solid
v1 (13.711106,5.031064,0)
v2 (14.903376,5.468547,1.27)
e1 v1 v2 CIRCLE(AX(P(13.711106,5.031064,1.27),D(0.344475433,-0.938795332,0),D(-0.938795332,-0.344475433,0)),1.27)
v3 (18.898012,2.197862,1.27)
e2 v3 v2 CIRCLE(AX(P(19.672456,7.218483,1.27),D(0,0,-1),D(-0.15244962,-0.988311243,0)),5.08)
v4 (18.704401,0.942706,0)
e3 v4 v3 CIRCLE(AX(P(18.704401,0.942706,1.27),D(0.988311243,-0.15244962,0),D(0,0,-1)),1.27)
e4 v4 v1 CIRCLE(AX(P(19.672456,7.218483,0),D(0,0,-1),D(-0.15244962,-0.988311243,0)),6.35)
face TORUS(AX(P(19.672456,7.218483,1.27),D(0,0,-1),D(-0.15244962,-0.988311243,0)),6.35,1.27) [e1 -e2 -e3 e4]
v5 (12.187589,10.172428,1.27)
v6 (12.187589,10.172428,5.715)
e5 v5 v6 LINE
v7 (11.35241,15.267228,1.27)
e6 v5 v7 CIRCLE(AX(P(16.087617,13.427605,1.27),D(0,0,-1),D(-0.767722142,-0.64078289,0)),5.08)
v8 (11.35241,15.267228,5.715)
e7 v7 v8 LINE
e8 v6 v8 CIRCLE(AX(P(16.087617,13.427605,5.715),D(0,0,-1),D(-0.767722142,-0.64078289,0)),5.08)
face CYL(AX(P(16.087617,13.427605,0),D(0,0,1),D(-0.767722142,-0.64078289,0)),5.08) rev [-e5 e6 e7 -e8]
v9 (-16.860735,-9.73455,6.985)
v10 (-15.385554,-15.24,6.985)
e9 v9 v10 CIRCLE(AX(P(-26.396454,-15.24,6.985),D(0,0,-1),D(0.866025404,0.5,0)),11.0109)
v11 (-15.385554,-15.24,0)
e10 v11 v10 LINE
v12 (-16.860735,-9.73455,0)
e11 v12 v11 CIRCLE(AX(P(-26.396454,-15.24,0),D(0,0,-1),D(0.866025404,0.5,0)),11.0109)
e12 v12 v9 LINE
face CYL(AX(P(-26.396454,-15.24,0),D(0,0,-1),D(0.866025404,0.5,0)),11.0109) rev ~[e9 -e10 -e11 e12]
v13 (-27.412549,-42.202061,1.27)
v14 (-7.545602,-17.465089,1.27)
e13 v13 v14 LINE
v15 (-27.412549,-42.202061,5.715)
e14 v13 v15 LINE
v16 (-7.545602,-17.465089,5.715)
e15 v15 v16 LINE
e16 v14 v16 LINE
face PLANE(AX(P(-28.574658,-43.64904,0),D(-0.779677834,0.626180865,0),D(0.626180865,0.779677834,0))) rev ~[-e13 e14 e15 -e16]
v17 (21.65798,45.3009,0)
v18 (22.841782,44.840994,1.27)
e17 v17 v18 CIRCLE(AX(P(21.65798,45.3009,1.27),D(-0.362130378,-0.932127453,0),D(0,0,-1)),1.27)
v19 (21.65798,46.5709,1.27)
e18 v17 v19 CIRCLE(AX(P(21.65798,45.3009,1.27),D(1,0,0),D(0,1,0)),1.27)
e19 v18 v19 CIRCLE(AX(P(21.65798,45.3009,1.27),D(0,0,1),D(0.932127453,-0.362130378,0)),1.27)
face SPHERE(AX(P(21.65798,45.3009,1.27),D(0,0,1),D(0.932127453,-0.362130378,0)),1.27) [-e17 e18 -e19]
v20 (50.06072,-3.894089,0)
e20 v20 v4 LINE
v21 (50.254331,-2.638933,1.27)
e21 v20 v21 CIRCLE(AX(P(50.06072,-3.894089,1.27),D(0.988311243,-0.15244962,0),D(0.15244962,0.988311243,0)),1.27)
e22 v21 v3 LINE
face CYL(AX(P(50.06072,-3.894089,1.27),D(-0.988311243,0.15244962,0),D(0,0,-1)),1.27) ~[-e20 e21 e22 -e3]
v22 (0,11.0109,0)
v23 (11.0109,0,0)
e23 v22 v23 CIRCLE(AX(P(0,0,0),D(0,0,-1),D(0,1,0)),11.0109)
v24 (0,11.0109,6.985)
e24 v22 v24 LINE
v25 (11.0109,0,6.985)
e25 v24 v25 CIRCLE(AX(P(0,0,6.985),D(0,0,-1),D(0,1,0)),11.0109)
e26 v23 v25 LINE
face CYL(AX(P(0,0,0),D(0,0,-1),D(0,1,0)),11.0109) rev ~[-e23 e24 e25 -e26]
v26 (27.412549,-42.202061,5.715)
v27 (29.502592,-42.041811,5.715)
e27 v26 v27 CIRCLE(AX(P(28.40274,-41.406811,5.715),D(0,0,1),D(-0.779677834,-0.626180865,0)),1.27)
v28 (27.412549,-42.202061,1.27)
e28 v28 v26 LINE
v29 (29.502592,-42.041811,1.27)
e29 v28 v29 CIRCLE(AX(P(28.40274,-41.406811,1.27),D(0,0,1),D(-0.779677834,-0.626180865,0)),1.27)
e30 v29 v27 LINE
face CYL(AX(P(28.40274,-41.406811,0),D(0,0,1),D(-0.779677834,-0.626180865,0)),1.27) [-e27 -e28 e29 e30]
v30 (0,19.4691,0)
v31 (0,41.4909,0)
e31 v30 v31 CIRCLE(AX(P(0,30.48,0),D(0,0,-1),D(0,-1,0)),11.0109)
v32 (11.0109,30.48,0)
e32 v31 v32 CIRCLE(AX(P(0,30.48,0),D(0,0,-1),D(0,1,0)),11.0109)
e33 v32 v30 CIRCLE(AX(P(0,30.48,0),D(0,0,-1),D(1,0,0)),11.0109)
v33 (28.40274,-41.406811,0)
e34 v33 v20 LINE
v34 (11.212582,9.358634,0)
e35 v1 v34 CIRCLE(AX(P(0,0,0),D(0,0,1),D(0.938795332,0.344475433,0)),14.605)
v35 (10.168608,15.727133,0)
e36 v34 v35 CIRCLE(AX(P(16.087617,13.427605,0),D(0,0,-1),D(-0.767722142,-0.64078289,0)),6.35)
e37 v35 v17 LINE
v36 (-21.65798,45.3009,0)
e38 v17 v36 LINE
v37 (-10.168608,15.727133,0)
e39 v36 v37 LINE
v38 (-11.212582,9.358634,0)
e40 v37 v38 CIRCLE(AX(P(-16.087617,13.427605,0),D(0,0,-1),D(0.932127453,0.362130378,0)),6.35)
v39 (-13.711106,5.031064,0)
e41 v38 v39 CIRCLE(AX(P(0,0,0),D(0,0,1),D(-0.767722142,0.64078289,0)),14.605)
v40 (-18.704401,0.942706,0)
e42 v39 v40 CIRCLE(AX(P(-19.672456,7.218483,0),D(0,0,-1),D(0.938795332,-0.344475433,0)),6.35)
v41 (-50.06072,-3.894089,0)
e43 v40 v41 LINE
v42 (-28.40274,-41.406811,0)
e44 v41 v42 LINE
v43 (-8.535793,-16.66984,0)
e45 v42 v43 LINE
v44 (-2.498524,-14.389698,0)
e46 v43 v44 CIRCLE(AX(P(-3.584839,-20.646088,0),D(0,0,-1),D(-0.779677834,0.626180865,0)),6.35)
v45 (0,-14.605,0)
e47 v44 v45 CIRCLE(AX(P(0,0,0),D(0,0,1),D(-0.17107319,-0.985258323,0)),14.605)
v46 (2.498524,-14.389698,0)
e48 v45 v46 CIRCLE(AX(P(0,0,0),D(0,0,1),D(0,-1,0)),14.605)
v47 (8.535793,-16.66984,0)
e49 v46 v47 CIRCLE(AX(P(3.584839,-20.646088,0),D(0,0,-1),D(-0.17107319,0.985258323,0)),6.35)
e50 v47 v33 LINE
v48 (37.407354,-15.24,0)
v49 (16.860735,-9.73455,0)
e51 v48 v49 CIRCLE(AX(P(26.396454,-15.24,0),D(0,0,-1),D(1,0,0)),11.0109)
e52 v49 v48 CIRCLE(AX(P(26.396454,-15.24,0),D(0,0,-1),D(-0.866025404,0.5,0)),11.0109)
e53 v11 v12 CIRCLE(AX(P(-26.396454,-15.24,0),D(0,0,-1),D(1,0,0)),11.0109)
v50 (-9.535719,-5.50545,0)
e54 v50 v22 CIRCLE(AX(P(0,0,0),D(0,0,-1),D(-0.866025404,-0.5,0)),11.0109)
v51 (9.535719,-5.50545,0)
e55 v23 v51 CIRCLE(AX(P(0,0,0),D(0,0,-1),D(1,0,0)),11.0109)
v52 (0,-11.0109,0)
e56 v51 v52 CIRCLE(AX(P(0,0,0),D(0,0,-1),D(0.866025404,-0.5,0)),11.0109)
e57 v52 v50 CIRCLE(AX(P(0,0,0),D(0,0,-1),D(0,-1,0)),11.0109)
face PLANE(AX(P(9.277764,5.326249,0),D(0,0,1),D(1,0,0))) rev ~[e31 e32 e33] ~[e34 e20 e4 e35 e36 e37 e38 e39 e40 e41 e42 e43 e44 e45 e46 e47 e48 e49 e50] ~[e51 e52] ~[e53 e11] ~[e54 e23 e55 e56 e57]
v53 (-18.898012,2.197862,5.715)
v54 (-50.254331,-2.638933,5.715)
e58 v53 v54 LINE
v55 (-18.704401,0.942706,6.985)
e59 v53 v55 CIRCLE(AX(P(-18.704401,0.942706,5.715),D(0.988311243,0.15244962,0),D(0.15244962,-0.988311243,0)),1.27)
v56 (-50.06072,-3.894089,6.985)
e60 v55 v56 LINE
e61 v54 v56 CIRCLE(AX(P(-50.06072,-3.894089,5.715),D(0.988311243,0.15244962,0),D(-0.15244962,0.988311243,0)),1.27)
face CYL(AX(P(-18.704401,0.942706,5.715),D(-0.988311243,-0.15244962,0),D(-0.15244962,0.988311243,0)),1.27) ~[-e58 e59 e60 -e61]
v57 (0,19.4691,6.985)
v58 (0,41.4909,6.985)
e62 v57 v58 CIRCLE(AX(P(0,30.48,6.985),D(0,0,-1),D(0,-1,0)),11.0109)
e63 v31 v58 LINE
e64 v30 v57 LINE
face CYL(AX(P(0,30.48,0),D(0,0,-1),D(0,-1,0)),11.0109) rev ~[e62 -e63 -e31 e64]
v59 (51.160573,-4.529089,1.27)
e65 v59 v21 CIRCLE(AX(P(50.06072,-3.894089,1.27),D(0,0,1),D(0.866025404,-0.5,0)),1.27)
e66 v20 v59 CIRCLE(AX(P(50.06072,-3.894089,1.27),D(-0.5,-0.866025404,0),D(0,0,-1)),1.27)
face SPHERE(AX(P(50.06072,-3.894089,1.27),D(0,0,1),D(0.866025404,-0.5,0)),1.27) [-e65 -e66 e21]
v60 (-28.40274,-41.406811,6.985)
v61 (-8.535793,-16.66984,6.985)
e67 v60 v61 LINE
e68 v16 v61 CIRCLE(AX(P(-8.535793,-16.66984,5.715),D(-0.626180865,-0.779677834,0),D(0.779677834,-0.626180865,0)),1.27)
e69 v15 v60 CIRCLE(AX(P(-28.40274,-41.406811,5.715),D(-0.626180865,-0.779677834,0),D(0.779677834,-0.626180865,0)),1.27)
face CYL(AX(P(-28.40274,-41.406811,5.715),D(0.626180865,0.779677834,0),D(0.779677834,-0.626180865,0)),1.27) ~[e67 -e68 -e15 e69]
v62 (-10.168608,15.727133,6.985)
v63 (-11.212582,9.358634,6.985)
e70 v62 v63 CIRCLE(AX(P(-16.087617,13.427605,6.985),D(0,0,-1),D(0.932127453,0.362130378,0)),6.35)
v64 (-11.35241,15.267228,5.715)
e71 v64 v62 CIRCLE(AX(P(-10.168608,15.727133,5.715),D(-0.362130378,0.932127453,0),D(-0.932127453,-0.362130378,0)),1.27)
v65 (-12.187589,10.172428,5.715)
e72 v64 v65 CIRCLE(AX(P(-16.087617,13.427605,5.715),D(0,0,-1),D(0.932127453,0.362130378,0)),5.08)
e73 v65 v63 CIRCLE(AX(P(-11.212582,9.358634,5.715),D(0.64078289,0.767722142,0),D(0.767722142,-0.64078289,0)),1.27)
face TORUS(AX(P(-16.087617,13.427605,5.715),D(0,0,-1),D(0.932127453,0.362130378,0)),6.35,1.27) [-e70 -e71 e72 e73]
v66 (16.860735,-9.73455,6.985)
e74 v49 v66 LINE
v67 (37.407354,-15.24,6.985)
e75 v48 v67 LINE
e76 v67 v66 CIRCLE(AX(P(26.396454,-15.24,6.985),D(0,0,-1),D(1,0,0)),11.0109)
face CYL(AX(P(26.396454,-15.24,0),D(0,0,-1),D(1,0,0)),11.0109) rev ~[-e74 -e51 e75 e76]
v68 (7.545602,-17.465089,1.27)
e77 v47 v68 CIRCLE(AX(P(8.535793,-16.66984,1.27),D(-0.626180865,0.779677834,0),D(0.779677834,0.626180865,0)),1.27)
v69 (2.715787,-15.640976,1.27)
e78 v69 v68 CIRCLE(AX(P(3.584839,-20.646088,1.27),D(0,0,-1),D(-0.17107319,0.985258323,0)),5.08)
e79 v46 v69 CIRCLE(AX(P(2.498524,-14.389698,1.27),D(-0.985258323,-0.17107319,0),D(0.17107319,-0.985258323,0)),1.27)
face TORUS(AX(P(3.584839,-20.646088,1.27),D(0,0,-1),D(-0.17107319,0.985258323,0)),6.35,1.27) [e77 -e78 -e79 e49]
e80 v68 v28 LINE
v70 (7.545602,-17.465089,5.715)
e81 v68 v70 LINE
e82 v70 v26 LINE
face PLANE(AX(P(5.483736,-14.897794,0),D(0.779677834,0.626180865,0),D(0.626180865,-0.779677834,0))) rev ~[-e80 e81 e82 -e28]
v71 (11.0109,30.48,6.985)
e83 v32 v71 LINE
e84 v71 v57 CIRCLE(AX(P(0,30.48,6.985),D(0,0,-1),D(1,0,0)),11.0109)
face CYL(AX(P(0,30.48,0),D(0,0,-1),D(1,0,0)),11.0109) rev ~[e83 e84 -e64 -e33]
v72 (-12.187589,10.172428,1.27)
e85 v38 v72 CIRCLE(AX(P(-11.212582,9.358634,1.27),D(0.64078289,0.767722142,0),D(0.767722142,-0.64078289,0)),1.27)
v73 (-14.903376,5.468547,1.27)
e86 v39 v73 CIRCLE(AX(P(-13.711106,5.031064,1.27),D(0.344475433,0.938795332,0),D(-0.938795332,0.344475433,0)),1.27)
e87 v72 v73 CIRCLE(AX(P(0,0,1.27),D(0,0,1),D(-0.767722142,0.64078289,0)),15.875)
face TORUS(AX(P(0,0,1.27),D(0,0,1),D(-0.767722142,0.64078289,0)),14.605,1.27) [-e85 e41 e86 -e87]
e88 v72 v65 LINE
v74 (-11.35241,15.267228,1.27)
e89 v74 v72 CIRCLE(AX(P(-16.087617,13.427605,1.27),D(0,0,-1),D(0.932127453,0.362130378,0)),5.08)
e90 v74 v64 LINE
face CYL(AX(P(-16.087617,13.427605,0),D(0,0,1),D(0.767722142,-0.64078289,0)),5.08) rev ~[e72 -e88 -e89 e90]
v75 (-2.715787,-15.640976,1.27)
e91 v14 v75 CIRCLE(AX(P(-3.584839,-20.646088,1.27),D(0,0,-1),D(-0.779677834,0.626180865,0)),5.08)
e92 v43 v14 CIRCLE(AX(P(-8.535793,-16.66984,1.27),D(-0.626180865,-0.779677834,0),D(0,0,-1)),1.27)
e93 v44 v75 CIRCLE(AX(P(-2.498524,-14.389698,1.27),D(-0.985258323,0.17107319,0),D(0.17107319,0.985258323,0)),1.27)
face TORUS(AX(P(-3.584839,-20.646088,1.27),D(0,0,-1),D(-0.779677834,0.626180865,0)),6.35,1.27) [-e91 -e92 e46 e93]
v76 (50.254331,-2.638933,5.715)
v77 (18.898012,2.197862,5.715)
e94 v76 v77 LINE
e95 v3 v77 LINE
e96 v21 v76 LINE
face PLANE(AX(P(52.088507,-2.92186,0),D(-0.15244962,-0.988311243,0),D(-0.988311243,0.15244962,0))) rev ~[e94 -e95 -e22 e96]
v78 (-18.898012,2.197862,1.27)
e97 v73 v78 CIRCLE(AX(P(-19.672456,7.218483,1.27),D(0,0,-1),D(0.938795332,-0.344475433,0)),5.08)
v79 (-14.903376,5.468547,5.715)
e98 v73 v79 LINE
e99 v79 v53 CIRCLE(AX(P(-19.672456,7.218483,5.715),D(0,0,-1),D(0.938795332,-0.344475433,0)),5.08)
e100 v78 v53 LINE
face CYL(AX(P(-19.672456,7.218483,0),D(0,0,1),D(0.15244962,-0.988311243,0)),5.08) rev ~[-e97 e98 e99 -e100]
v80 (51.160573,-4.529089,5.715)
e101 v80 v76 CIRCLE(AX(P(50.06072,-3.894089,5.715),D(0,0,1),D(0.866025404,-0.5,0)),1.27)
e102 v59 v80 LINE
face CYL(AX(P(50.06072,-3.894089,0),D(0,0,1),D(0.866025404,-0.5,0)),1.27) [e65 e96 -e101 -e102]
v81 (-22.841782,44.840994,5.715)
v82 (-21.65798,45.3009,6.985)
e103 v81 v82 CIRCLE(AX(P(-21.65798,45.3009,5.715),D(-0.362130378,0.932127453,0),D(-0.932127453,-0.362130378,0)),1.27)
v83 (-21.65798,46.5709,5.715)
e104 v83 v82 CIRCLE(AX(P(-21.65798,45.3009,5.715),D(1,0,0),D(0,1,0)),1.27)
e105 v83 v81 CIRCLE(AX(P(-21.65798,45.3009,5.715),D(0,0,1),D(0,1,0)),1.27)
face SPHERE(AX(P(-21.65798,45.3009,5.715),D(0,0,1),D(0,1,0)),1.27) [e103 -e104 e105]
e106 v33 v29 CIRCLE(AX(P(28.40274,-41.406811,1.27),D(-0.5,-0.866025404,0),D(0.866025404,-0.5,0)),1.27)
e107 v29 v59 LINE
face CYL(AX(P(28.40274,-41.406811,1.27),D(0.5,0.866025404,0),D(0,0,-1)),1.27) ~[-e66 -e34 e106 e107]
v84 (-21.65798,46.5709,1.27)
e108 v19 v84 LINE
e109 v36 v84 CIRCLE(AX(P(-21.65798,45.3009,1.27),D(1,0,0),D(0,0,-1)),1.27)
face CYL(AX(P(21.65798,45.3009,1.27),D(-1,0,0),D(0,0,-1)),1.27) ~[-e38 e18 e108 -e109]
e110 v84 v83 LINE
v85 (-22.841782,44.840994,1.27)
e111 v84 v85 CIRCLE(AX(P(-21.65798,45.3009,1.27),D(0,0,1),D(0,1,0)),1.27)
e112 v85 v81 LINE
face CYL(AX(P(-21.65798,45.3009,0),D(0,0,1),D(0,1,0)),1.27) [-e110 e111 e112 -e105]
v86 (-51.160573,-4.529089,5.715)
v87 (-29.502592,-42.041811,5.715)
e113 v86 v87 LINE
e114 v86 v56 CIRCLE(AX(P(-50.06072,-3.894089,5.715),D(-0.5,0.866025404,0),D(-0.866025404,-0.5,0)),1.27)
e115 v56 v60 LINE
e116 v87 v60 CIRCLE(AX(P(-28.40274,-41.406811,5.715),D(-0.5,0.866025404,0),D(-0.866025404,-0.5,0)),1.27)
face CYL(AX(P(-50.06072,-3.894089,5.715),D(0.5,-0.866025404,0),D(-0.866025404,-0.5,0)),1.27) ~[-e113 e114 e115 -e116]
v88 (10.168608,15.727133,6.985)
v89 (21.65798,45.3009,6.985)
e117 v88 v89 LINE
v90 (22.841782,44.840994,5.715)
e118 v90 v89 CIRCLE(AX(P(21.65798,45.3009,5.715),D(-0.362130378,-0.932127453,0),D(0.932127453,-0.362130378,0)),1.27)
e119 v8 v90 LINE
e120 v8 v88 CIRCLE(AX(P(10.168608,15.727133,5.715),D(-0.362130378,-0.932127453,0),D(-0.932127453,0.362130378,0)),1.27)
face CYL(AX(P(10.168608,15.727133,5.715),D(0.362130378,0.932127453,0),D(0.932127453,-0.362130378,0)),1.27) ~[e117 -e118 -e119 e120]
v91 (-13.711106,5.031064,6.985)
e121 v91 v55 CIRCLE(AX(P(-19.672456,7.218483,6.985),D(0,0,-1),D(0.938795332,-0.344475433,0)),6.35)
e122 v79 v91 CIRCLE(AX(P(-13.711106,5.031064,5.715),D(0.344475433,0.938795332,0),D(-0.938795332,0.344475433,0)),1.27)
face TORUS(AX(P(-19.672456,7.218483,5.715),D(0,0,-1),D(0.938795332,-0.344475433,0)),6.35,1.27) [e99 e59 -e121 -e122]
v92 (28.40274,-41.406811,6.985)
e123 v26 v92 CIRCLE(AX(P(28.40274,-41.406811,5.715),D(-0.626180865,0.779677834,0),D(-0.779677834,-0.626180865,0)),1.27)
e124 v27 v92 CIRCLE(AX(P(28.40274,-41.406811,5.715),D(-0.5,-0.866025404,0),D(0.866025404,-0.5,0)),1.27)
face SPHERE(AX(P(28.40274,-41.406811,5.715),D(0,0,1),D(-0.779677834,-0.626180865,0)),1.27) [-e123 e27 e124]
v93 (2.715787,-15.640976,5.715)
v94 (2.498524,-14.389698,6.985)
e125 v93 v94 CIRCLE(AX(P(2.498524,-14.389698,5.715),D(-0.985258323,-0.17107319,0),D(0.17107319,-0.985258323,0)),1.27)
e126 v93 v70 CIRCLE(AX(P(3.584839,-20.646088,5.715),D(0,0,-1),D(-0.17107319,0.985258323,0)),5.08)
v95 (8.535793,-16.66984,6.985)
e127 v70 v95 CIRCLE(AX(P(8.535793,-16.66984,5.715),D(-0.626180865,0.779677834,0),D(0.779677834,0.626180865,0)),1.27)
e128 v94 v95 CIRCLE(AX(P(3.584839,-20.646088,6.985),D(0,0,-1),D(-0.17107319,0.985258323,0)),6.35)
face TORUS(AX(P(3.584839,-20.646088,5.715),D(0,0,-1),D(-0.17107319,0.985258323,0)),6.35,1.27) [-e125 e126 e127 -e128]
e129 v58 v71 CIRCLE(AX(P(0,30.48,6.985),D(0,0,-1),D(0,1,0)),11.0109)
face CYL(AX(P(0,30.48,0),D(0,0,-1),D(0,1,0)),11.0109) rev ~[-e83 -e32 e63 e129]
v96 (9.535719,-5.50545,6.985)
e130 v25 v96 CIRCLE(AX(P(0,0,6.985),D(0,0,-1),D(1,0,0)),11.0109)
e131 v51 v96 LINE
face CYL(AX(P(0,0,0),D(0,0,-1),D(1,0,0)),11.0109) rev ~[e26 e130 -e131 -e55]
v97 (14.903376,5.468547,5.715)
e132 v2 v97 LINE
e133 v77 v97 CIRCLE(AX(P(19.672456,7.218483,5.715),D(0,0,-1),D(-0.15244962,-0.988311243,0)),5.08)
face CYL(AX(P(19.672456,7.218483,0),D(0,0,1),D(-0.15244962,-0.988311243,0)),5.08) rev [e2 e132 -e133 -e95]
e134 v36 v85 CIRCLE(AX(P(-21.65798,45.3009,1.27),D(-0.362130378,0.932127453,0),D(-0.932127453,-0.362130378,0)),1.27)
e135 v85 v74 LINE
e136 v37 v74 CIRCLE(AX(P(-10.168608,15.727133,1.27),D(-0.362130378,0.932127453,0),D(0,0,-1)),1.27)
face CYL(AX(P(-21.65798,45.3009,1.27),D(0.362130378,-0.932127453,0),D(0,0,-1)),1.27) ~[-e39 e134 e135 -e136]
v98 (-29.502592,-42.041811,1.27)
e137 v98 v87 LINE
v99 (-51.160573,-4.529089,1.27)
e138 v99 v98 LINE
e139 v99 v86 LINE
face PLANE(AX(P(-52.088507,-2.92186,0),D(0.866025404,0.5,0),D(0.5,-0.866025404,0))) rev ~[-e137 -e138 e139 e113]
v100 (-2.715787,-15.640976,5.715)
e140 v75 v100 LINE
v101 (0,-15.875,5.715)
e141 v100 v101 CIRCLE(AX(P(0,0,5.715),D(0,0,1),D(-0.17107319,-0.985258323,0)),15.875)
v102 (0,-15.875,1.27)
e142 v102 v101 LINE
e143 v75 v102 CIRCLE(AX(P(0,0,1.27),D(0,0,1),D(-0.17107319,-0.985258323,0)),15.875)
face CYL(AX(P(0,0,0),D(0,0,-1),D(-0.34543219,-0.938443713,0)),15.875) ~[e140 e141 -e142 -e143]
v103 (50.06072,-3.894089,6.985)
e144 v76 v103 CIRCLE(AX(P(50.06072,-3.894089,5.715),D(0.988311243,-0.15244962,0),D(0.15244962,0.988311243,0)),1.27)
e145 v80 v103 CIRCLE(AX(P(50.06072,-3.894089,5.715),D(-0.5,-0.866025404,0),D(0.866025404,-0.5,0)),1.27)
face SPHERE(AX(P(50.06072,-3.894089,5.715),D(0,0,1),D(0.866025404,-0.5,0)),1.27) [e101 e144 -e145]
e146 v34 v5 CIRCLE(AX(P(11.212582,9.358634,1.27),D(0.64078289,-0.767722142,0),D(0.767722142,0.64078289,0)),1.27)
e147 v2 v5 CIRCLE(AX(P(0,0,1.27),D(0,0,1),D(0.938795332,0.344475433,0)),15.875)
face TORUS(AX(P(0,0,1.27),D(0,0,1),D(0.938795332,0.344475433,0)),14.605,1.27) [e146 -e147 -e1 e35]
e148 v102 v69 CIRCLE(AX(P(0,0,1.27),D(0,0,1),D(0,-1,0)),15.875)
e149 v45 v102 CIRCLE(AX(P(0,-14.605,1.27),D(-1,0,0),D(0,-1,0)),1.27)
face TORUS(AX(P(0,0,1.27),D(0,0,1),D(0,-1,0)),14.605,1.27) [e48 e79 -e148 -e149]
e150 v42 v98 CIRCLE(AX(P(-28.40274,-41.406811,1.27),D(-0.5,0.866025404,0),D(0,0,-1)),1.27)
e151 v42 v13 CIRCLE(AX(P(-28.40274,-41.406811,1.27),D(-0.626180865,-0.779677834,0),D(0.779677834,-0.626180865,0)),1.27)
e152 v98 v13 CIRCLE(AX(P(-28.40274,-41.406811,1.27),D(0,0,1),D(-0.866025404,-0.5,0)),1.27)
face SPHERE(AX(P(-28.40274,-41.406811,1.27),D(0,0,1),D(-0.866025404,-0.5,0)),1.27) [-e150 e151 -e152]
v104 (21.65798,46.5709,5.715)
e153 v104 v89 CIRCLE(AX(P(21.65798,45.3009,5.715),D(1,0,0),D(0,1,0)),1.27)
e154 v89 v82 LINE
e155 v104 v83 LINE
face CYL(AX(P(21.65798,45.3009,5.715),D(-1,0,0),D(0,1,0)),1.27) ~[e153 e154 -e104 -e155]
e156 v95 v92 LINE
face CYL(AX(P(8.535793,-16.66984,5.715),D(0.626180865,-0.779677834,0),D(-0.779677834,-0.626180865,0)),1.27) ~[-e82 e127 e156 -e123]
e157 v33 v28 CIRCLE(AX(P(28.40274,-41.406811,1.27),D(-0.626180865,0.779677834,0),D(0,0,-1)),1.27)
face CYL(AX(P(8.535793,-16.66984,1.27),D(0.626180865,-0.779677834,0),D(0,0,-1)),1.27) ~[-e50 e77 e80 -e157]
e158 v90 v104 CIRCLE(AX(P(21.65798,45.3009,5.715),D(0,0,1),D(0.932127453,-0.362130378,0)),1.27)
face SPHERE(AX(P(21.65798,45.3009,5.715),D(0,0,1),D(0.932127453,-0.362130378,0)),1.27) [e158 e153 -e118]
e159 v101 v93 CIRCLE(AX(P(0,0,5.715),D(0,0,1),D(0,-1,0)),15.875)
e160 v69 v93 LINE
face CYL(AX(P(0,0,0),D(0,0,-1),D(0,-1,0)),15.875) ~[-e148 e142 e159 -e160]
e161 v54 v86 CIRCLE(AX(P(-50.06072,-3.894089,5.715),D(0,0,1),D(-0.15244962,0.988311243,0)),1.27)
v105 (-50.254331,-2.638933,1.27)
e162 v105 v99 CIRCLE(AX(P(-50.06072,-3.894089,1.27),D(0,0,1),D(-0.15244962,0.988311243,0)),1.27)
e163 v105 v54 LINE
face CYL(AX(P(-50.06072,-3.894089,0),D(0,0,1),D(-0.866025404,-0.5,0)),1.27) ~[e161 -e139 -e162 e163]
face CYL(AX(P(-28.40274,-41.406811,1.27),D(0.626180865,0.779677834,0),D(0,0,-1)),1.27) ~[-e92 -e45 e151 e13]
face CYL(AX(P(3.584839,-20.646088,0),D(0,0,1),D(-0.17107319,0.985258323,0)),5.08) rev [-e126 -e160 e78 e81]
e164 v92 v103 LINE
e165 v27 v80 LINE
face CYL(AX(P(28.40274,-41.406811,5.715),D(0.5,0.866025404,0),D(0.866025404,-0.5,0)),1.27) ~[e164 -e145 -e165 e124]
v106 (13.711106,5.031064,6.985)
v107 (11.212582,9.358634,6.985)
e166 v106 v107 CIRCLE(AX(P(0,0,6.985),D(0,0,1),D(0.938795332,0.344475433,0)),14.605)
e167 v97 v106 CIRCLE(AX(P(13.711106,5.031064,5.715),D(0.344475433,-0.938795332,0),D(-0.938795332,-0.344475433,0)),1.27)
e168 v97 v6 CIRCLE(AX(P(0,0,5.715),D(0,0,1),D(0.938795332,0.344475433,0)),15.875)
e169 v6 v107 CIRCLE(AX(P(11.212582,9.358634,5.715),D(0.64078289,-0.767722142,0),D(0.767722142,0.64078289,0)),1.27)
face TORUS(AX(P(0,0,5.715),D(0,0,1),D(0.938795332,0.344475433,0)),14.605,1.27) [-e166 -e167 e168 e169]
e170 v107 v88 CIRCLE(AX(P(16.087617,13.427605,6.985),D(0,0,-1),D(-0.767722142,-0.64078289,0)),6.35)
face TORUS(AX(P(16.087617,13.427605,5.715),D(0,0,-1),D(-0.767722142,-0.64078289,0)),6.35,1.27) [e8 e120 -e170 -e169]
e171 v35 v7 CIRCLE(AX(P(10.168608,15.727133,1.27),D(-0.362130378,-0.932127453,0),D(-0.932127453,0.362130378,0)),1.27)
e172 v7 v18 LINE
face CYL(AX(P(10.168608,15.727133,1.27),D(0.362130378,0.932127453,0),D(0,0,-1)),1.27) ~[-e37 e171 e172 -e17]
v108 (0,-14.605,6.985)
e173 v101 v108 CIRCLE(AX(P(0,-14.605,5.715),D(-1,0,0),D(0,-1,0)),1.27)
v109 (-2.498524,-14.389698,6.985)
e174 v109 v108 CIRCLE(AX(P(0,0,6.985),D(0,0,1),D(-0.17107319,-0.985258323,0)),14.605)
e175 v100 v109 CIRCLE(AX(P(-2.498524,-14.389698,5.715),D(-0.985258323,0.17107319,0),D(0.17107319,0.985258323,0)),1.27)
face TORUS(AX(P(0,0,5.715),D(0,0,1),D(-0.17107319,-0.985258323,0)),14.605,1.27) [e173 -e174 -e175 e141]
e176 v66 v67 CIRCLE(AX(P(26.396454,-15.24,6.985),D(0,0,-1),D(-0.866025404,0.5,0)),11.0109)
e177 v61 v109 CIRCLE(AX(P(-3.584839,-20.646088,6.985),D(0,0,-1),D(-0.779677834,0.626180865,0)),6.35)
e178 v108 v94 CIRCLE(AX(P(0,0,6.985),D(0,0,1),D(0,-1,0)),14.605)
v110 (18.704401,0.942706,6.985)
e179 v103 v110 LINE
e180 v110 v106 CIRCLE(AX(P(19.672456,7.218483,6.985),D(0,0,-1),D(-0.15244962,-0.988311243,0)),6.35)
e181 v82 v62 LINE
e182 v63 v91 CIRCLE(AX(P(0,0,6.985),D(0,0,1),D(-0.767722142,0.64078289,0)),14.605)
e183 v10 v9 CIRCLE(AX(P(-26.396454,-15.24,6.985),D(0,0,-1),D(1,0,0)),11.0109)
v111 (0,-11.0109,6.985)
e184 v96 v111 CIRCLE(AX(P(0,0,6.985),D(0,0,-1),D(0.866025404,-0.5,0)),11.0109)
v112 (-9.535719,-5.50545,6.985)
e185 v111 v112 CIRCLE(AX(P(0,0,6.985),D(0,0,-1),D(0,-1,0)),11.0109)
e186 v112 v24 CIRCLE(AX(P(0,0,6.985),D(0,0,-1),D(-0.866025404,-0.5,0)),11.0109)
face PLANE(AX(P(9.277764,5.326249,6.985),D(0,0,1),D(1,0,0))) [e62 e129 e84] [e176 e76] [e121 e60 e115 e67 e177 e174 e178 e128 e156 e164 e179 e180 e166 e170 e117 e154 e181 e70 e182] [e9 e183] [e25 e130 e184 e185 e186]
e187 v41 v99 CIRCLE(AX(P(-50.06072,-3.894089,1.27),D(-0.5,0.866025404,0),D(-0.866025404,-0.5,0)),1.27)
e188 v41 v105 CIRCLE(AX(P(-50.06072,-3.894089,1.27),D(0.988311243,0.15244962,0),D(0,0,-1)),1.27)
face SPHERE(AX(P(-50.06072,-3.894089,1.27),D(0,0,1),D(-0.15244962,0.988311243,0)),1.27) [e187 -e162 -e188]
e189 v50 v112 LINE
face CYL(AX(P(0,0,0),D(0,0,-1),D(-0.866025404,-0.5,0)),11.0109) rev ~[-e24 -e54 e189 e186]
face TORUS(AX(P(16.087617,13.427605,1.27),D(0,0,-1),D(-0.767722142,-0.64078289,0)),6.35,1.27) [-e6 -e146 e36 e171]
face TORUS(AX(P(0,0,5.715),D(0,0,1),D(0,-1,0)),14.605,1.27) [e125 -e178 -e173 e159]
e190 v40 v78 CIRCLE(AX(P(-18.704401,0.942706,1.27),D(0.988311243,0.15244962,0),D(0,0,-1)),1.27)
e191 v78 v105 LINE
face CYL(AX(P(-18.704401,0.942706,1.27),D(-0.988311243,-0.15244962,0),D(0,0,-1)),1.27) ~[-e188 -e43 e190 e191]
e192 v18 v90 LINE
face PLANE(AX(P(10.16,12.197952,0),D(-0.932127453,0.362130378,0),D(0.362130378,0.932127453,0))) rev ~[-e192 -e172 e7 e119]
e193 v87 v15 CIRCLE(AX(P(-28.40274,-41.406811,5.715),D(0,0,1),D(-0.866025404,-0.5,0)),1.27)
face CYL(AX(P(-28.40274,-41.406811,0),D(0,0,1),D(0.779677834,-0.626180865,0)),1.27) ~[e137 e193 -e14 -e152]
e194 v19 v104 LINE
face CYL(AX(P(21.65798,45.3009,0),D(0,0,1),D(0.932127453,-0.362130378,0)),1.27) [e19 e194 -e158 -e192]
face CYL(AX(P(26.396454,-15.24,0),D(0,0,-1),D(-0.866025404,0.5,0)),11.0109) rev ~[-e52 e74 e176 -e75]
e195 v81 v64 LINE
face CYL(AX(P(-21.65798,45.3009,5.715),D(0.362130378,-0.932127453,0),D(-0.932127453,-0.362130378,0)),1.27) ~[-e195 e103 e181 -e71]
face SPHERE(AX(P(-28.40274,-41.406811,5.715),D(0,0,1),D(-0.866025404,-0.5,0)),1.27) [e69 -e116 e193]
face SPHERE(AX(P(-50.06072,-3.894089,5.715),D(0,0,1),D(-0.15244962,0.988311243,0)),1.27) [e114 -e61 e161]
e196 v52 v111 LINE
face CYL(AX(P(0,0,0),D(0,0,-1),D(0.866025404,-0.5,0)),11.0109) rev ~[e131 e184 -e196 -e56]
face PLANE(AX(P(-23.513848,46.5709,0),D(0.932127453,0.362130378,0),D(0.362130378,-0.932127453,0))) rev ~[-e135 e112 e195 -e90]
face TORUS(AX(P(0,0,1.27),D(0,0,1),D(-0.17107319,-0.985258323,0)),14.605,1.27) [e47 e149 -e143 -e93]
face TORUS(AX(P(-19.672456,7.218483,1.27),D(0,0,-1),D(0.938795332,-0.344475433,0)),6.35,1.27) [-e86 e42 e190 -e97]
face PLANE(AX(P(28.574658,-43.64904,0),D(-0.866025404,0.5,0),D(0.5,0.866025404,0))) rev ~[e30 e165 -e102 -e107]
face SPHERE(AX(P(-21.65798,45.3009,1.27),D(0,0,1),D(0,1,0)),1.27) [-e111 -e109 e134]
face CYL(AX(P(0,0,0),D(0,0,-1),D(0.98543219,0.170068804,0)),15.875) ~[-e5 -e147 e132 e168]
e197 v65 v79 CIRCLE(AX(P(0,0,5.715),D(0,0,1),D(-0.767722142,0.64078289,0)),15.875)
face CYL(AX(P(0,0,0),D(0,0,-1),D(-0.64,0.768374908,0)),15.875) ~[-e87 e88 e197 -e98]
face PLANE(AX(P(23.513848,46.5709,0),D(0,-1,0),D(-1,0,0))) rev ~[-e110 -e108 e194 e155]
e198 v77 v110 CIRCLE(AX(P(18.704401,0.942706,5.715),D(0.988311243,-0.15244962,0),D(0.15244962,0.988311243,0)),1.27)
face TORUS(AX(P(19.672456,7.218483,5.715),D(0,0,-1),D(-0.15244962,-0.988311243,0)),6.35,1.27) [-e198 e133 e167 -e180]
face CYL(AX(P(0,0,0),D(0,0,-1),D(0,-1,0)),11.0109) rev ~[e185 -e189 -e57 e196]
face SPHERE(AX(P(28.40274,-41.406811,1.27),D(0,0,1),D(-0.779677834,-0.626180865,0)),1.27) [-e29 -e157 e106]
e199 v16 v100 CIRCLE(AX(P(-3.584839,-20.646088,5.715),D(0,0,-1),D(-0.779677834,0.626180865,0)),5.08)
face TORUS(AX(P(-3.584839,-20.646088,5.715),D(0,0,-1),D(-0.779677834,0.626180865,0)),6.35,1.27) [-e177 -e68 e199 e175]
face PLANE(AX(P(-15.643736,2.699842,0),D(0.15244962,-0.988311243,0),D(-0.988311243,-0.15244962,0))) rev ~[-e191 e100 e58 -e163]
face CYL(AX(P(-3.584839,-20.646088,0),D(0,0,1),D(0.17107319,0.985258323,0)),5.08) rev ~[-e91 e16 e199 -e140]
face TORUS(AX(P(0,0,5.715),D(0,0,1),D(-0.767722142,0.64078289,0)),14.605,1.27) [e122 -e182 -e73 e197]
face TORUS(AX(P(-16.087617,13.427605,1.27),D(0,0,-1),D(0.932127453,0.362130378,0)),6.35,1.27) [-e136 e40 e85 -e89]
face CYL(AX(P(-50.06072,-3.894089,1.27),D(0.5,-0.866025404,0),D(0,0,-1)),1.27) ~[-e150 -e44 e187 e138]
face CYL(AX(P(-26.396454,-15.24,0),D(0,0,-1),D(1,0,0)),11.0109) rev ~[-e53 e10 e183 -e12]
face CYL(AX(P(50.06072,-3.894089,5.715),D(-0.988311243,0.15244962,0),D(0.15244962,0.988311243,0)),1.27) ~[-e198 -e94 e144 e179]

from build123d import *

# Parameters (mm, degrees)
F1_DEPTH = 6.985
F2_R     = 5.08
F3_R     = 1.27
F4_R     = 1.27
F5_R     = 1.27


with BuildPart() as f1:
    # F0 (on Top) → F1 (new body)
    with BuildSketch(Plane.XY):
        with BuildLine():
            ThreePointArc((0, 11.0109), (7.785882057, 7.785882057), (11.0109, 0))
            ThreePointArc((11.0109, 0), (10.6357126807, -2.8498306237), (9.5357191185, -5.50545))
            Line((9.5357191185, -5.50545), (13.7481532851, -7.9375))
            ThreePointArc((13.7481532851, -7.9375), (15.3340724923, -4.108752341), (15.875, 0))
            ThreePointArc((15.875, 0), (15.8170783389, 1.3548645034), (15.6437360224, 2.6998422663))
            ThreePointArc((15.6437360224, 2.6998422663), (13.7481532851, 7.9375), (10.16, 12.1979516723))
            ThreePointArc((10.16, 12.1979516723), (5.4024597269, 14.9274597269), (0, 15.875))
            Line((0, 15.875), (0, 11.0109))
        make_face()
        with BuildLine():
            ThreePointArc((-9.5357191185, -5.50545), (-9.5357191185, 5.50545), (0, 11.0109))
            Line((0, 11.0109), (0, 15.875))
            ThreePointArc((0, 15.875), (-5.4024597269, 14.9274597269), (-10.16, 12.1979516723))
            ThreePointArc((-10.16, 12.1979516723), (-13.7481532851, 7.9375), (-15.6437360224, 2.6998422663))
            ThreePointArc((-15.6437360224, 2.6998422663), (-15.6287892009, -2.785062497), (-13.7481532851, -7.9375))
            Line((-13.7481532851, -7.9375), (-9.5357191185, -5.50545))
        make_face()
        with BuildLine():
            Line((13.7481532851, -7.9375), (9.5357191185, -5.50545))
            ThreePointArc((9.5357191185, -5.50545), (5.50545, -9.5357191185), (0, -11.0109))
            Line((0, -11.0109), (0, -15.875))
            ThreePointArc((0, -15.875), (2.785062497, -15.6287892009), (5.4837360224, -14.8977939386))
            ThreePointArc((5.4837360224, -14.8977939386), (10.226329474, -12.1423972299), (13.7481532851, -7.9375))
        make_face()
        with BuildLine():
            ThreePointArc((0, -11.0109), (-5.50545, -9.5357191185), (-9.5357191185, -5.50545))
            Line((-9.5357191185, -5.50545), (-13.7481532851, -7.9375))
            ThreePointArc((-13.7481532851, -7.9375), (-10.226329474, -12.1423972299), (-5.4837360224, -14.8977939386))
            ThreePointArc((-5.4837360224, -14.8977939386), (-2.785062497, -15.6287892009), (0, -15.875))
            Line((0, -15.875), (0, -11.0109))
        make_face()
        with BuildLine():
            ThreePointArc((-10.16, 12.1979516723), (-5.4024597269, 14.9274597269), (0, 15.875))
            Line((0, 15.875), (0, 19.4691))
            ThreePointArc((0, 19.4691), (-11.0109, 30.48), (0, 41.4909))
            Line((0, 41.4909), (0, 46.5709))
            Line((0, 46.5709), (-23.5138484807, 46.5709))
            Line((-23.5138484807, 46.5709), (-10.16, 12.1979516723))
        make_face()
        with BuildLine():
            Line((0, 19.4691), (0, 15.875))
            ThreePointArc((0, 15.875), (5.4024597269, 14.9274597269), (10.16, 12.1979516723))
            Line((10.16, 12.1979516723), (23.5138484807, 46.5709))
            Line((23.5138484807, 46.5709), (0, 46.5709))
            Line((0, 46.5709), (0, 41.4909))
            ThreePointArc((0, 41.4909), (7.785882057, 38.265882057), (11.0109, 30.48))
            ThreePointArc((11.0109, 30.48), (7.785882057, 22.694117943), (0, 19.4691))
        make_face()
        with BuildLine():
            ThreePointArc((15.875, 0), (15.3340724923, -4.108752341), (13.7481532851, -7.9375))
            ThreePointArc((13.7481532851, -7.9375), (10.226329474, -12.1423972299), (5.4837360224, -14.8977939386))
            Line((5.4837360224, -14.8977939386), (28.5746582368, -43.649040125))
            Line((28.5746582368, -43.649040125), (52.0885067174, -2.921859875))
            Line((52.0885067174, -2.921859875), (15.6437360224, 2.6998422663))
            ThreePointArc((15.6437360224, 2.6998422663), (15.8170783389, 1.3548645034), (15.875, 0))
        make_face()
        with BuildLine():
            ThreePointArc((37.4073543073, -15.24), (23.5466236836, -25.8757126807), (16.8607351888, -9.73455))
            ThreePointArc((16.8607351888, -9.73455), (29.2462849311, -4.6042873193), (37.4073543073, -15.24))
        make_face(mode=Mode.SUBTRACT)
        with BuildLine():
            ThreePointArc((-5.4837360224, -14.8977939386), (-10.226329474, -12.1423972299), (-13.7481532851, -7.9375))
            ThreePointArc((-13.7481532851, -7.9375), (-15.6287892009, -2.785062497), (-15.6437360224, 2.6998422663))
            Line((-15.6437360224, 2.6998422663), (-52.0885067174, -2.921859875))
            Line((-52.0885067174, -2.921859875), (-28.5746582368, -43.649040125))
            Line((-28.5746582368, -43.649040125), (-5.4837360224, -14.8977939386))
        make_face()
        with BuildLine():
            ThreePointArc((-15.3855543073, -15.24), (-37.032166988, -18.0898306237), (-16.8607351888, -9.73455))
            ThreePointArc((-16.8607351888, -9.73455), (-15.7607416267, -12.3901693763), (-15.3855543073, -15.24))
        make_face(mode=Mode.SUBTRACT)
    extrude(amount=F1_DEPTH)

    # F2
    f2_edges = [f1.edges().sort_by_distance(p)[0] for p in [
        (15.643736, 2.699842, 3.4925),
        (10.16, 12.197952, 3.4925),
        (5.483736, -14.897794, 3.4925),
        (-5.483736, -14.897794, 3.4925),
        (-15.643736, 2.699842, 3.4925),
        (-10.16, 12.197952, 3.4925),
    ]]
    fillet(f2_edges, radius=F2_R)

    # F3
    f3_edges = [f1.edges().sort_by_distance(p)[0] for p in [
        (52.088507, -2.92186, 3.4925),
        (28.574658, -43.64904, 3.4925),
        (-28.574658, -43.64904, 3.4925),
        (23.513848, 46.5709, 3.4925),
        (-23.513848, 46.5709, 3.4925),
        (-52.088507, -2.92186, 3.4925),
    ]]
    fillet(f3_edges, radius=F3_R)

    # F4
    f4_edges = [f1.edges().sort_by_distance(p)[0] for p in [
        (40.331582, -23.28545, 6.985),
    ]]
    fillet(f4_edges, radius=F4_R)

    # F5
    f5_edges = [f1.edges().sort_by_distance(p)[0] for p in [
        (-34.576172, -0.220536, 0),
    ]]
    fillet(f5_edges, radius=F5_R)


solid = f1.part
